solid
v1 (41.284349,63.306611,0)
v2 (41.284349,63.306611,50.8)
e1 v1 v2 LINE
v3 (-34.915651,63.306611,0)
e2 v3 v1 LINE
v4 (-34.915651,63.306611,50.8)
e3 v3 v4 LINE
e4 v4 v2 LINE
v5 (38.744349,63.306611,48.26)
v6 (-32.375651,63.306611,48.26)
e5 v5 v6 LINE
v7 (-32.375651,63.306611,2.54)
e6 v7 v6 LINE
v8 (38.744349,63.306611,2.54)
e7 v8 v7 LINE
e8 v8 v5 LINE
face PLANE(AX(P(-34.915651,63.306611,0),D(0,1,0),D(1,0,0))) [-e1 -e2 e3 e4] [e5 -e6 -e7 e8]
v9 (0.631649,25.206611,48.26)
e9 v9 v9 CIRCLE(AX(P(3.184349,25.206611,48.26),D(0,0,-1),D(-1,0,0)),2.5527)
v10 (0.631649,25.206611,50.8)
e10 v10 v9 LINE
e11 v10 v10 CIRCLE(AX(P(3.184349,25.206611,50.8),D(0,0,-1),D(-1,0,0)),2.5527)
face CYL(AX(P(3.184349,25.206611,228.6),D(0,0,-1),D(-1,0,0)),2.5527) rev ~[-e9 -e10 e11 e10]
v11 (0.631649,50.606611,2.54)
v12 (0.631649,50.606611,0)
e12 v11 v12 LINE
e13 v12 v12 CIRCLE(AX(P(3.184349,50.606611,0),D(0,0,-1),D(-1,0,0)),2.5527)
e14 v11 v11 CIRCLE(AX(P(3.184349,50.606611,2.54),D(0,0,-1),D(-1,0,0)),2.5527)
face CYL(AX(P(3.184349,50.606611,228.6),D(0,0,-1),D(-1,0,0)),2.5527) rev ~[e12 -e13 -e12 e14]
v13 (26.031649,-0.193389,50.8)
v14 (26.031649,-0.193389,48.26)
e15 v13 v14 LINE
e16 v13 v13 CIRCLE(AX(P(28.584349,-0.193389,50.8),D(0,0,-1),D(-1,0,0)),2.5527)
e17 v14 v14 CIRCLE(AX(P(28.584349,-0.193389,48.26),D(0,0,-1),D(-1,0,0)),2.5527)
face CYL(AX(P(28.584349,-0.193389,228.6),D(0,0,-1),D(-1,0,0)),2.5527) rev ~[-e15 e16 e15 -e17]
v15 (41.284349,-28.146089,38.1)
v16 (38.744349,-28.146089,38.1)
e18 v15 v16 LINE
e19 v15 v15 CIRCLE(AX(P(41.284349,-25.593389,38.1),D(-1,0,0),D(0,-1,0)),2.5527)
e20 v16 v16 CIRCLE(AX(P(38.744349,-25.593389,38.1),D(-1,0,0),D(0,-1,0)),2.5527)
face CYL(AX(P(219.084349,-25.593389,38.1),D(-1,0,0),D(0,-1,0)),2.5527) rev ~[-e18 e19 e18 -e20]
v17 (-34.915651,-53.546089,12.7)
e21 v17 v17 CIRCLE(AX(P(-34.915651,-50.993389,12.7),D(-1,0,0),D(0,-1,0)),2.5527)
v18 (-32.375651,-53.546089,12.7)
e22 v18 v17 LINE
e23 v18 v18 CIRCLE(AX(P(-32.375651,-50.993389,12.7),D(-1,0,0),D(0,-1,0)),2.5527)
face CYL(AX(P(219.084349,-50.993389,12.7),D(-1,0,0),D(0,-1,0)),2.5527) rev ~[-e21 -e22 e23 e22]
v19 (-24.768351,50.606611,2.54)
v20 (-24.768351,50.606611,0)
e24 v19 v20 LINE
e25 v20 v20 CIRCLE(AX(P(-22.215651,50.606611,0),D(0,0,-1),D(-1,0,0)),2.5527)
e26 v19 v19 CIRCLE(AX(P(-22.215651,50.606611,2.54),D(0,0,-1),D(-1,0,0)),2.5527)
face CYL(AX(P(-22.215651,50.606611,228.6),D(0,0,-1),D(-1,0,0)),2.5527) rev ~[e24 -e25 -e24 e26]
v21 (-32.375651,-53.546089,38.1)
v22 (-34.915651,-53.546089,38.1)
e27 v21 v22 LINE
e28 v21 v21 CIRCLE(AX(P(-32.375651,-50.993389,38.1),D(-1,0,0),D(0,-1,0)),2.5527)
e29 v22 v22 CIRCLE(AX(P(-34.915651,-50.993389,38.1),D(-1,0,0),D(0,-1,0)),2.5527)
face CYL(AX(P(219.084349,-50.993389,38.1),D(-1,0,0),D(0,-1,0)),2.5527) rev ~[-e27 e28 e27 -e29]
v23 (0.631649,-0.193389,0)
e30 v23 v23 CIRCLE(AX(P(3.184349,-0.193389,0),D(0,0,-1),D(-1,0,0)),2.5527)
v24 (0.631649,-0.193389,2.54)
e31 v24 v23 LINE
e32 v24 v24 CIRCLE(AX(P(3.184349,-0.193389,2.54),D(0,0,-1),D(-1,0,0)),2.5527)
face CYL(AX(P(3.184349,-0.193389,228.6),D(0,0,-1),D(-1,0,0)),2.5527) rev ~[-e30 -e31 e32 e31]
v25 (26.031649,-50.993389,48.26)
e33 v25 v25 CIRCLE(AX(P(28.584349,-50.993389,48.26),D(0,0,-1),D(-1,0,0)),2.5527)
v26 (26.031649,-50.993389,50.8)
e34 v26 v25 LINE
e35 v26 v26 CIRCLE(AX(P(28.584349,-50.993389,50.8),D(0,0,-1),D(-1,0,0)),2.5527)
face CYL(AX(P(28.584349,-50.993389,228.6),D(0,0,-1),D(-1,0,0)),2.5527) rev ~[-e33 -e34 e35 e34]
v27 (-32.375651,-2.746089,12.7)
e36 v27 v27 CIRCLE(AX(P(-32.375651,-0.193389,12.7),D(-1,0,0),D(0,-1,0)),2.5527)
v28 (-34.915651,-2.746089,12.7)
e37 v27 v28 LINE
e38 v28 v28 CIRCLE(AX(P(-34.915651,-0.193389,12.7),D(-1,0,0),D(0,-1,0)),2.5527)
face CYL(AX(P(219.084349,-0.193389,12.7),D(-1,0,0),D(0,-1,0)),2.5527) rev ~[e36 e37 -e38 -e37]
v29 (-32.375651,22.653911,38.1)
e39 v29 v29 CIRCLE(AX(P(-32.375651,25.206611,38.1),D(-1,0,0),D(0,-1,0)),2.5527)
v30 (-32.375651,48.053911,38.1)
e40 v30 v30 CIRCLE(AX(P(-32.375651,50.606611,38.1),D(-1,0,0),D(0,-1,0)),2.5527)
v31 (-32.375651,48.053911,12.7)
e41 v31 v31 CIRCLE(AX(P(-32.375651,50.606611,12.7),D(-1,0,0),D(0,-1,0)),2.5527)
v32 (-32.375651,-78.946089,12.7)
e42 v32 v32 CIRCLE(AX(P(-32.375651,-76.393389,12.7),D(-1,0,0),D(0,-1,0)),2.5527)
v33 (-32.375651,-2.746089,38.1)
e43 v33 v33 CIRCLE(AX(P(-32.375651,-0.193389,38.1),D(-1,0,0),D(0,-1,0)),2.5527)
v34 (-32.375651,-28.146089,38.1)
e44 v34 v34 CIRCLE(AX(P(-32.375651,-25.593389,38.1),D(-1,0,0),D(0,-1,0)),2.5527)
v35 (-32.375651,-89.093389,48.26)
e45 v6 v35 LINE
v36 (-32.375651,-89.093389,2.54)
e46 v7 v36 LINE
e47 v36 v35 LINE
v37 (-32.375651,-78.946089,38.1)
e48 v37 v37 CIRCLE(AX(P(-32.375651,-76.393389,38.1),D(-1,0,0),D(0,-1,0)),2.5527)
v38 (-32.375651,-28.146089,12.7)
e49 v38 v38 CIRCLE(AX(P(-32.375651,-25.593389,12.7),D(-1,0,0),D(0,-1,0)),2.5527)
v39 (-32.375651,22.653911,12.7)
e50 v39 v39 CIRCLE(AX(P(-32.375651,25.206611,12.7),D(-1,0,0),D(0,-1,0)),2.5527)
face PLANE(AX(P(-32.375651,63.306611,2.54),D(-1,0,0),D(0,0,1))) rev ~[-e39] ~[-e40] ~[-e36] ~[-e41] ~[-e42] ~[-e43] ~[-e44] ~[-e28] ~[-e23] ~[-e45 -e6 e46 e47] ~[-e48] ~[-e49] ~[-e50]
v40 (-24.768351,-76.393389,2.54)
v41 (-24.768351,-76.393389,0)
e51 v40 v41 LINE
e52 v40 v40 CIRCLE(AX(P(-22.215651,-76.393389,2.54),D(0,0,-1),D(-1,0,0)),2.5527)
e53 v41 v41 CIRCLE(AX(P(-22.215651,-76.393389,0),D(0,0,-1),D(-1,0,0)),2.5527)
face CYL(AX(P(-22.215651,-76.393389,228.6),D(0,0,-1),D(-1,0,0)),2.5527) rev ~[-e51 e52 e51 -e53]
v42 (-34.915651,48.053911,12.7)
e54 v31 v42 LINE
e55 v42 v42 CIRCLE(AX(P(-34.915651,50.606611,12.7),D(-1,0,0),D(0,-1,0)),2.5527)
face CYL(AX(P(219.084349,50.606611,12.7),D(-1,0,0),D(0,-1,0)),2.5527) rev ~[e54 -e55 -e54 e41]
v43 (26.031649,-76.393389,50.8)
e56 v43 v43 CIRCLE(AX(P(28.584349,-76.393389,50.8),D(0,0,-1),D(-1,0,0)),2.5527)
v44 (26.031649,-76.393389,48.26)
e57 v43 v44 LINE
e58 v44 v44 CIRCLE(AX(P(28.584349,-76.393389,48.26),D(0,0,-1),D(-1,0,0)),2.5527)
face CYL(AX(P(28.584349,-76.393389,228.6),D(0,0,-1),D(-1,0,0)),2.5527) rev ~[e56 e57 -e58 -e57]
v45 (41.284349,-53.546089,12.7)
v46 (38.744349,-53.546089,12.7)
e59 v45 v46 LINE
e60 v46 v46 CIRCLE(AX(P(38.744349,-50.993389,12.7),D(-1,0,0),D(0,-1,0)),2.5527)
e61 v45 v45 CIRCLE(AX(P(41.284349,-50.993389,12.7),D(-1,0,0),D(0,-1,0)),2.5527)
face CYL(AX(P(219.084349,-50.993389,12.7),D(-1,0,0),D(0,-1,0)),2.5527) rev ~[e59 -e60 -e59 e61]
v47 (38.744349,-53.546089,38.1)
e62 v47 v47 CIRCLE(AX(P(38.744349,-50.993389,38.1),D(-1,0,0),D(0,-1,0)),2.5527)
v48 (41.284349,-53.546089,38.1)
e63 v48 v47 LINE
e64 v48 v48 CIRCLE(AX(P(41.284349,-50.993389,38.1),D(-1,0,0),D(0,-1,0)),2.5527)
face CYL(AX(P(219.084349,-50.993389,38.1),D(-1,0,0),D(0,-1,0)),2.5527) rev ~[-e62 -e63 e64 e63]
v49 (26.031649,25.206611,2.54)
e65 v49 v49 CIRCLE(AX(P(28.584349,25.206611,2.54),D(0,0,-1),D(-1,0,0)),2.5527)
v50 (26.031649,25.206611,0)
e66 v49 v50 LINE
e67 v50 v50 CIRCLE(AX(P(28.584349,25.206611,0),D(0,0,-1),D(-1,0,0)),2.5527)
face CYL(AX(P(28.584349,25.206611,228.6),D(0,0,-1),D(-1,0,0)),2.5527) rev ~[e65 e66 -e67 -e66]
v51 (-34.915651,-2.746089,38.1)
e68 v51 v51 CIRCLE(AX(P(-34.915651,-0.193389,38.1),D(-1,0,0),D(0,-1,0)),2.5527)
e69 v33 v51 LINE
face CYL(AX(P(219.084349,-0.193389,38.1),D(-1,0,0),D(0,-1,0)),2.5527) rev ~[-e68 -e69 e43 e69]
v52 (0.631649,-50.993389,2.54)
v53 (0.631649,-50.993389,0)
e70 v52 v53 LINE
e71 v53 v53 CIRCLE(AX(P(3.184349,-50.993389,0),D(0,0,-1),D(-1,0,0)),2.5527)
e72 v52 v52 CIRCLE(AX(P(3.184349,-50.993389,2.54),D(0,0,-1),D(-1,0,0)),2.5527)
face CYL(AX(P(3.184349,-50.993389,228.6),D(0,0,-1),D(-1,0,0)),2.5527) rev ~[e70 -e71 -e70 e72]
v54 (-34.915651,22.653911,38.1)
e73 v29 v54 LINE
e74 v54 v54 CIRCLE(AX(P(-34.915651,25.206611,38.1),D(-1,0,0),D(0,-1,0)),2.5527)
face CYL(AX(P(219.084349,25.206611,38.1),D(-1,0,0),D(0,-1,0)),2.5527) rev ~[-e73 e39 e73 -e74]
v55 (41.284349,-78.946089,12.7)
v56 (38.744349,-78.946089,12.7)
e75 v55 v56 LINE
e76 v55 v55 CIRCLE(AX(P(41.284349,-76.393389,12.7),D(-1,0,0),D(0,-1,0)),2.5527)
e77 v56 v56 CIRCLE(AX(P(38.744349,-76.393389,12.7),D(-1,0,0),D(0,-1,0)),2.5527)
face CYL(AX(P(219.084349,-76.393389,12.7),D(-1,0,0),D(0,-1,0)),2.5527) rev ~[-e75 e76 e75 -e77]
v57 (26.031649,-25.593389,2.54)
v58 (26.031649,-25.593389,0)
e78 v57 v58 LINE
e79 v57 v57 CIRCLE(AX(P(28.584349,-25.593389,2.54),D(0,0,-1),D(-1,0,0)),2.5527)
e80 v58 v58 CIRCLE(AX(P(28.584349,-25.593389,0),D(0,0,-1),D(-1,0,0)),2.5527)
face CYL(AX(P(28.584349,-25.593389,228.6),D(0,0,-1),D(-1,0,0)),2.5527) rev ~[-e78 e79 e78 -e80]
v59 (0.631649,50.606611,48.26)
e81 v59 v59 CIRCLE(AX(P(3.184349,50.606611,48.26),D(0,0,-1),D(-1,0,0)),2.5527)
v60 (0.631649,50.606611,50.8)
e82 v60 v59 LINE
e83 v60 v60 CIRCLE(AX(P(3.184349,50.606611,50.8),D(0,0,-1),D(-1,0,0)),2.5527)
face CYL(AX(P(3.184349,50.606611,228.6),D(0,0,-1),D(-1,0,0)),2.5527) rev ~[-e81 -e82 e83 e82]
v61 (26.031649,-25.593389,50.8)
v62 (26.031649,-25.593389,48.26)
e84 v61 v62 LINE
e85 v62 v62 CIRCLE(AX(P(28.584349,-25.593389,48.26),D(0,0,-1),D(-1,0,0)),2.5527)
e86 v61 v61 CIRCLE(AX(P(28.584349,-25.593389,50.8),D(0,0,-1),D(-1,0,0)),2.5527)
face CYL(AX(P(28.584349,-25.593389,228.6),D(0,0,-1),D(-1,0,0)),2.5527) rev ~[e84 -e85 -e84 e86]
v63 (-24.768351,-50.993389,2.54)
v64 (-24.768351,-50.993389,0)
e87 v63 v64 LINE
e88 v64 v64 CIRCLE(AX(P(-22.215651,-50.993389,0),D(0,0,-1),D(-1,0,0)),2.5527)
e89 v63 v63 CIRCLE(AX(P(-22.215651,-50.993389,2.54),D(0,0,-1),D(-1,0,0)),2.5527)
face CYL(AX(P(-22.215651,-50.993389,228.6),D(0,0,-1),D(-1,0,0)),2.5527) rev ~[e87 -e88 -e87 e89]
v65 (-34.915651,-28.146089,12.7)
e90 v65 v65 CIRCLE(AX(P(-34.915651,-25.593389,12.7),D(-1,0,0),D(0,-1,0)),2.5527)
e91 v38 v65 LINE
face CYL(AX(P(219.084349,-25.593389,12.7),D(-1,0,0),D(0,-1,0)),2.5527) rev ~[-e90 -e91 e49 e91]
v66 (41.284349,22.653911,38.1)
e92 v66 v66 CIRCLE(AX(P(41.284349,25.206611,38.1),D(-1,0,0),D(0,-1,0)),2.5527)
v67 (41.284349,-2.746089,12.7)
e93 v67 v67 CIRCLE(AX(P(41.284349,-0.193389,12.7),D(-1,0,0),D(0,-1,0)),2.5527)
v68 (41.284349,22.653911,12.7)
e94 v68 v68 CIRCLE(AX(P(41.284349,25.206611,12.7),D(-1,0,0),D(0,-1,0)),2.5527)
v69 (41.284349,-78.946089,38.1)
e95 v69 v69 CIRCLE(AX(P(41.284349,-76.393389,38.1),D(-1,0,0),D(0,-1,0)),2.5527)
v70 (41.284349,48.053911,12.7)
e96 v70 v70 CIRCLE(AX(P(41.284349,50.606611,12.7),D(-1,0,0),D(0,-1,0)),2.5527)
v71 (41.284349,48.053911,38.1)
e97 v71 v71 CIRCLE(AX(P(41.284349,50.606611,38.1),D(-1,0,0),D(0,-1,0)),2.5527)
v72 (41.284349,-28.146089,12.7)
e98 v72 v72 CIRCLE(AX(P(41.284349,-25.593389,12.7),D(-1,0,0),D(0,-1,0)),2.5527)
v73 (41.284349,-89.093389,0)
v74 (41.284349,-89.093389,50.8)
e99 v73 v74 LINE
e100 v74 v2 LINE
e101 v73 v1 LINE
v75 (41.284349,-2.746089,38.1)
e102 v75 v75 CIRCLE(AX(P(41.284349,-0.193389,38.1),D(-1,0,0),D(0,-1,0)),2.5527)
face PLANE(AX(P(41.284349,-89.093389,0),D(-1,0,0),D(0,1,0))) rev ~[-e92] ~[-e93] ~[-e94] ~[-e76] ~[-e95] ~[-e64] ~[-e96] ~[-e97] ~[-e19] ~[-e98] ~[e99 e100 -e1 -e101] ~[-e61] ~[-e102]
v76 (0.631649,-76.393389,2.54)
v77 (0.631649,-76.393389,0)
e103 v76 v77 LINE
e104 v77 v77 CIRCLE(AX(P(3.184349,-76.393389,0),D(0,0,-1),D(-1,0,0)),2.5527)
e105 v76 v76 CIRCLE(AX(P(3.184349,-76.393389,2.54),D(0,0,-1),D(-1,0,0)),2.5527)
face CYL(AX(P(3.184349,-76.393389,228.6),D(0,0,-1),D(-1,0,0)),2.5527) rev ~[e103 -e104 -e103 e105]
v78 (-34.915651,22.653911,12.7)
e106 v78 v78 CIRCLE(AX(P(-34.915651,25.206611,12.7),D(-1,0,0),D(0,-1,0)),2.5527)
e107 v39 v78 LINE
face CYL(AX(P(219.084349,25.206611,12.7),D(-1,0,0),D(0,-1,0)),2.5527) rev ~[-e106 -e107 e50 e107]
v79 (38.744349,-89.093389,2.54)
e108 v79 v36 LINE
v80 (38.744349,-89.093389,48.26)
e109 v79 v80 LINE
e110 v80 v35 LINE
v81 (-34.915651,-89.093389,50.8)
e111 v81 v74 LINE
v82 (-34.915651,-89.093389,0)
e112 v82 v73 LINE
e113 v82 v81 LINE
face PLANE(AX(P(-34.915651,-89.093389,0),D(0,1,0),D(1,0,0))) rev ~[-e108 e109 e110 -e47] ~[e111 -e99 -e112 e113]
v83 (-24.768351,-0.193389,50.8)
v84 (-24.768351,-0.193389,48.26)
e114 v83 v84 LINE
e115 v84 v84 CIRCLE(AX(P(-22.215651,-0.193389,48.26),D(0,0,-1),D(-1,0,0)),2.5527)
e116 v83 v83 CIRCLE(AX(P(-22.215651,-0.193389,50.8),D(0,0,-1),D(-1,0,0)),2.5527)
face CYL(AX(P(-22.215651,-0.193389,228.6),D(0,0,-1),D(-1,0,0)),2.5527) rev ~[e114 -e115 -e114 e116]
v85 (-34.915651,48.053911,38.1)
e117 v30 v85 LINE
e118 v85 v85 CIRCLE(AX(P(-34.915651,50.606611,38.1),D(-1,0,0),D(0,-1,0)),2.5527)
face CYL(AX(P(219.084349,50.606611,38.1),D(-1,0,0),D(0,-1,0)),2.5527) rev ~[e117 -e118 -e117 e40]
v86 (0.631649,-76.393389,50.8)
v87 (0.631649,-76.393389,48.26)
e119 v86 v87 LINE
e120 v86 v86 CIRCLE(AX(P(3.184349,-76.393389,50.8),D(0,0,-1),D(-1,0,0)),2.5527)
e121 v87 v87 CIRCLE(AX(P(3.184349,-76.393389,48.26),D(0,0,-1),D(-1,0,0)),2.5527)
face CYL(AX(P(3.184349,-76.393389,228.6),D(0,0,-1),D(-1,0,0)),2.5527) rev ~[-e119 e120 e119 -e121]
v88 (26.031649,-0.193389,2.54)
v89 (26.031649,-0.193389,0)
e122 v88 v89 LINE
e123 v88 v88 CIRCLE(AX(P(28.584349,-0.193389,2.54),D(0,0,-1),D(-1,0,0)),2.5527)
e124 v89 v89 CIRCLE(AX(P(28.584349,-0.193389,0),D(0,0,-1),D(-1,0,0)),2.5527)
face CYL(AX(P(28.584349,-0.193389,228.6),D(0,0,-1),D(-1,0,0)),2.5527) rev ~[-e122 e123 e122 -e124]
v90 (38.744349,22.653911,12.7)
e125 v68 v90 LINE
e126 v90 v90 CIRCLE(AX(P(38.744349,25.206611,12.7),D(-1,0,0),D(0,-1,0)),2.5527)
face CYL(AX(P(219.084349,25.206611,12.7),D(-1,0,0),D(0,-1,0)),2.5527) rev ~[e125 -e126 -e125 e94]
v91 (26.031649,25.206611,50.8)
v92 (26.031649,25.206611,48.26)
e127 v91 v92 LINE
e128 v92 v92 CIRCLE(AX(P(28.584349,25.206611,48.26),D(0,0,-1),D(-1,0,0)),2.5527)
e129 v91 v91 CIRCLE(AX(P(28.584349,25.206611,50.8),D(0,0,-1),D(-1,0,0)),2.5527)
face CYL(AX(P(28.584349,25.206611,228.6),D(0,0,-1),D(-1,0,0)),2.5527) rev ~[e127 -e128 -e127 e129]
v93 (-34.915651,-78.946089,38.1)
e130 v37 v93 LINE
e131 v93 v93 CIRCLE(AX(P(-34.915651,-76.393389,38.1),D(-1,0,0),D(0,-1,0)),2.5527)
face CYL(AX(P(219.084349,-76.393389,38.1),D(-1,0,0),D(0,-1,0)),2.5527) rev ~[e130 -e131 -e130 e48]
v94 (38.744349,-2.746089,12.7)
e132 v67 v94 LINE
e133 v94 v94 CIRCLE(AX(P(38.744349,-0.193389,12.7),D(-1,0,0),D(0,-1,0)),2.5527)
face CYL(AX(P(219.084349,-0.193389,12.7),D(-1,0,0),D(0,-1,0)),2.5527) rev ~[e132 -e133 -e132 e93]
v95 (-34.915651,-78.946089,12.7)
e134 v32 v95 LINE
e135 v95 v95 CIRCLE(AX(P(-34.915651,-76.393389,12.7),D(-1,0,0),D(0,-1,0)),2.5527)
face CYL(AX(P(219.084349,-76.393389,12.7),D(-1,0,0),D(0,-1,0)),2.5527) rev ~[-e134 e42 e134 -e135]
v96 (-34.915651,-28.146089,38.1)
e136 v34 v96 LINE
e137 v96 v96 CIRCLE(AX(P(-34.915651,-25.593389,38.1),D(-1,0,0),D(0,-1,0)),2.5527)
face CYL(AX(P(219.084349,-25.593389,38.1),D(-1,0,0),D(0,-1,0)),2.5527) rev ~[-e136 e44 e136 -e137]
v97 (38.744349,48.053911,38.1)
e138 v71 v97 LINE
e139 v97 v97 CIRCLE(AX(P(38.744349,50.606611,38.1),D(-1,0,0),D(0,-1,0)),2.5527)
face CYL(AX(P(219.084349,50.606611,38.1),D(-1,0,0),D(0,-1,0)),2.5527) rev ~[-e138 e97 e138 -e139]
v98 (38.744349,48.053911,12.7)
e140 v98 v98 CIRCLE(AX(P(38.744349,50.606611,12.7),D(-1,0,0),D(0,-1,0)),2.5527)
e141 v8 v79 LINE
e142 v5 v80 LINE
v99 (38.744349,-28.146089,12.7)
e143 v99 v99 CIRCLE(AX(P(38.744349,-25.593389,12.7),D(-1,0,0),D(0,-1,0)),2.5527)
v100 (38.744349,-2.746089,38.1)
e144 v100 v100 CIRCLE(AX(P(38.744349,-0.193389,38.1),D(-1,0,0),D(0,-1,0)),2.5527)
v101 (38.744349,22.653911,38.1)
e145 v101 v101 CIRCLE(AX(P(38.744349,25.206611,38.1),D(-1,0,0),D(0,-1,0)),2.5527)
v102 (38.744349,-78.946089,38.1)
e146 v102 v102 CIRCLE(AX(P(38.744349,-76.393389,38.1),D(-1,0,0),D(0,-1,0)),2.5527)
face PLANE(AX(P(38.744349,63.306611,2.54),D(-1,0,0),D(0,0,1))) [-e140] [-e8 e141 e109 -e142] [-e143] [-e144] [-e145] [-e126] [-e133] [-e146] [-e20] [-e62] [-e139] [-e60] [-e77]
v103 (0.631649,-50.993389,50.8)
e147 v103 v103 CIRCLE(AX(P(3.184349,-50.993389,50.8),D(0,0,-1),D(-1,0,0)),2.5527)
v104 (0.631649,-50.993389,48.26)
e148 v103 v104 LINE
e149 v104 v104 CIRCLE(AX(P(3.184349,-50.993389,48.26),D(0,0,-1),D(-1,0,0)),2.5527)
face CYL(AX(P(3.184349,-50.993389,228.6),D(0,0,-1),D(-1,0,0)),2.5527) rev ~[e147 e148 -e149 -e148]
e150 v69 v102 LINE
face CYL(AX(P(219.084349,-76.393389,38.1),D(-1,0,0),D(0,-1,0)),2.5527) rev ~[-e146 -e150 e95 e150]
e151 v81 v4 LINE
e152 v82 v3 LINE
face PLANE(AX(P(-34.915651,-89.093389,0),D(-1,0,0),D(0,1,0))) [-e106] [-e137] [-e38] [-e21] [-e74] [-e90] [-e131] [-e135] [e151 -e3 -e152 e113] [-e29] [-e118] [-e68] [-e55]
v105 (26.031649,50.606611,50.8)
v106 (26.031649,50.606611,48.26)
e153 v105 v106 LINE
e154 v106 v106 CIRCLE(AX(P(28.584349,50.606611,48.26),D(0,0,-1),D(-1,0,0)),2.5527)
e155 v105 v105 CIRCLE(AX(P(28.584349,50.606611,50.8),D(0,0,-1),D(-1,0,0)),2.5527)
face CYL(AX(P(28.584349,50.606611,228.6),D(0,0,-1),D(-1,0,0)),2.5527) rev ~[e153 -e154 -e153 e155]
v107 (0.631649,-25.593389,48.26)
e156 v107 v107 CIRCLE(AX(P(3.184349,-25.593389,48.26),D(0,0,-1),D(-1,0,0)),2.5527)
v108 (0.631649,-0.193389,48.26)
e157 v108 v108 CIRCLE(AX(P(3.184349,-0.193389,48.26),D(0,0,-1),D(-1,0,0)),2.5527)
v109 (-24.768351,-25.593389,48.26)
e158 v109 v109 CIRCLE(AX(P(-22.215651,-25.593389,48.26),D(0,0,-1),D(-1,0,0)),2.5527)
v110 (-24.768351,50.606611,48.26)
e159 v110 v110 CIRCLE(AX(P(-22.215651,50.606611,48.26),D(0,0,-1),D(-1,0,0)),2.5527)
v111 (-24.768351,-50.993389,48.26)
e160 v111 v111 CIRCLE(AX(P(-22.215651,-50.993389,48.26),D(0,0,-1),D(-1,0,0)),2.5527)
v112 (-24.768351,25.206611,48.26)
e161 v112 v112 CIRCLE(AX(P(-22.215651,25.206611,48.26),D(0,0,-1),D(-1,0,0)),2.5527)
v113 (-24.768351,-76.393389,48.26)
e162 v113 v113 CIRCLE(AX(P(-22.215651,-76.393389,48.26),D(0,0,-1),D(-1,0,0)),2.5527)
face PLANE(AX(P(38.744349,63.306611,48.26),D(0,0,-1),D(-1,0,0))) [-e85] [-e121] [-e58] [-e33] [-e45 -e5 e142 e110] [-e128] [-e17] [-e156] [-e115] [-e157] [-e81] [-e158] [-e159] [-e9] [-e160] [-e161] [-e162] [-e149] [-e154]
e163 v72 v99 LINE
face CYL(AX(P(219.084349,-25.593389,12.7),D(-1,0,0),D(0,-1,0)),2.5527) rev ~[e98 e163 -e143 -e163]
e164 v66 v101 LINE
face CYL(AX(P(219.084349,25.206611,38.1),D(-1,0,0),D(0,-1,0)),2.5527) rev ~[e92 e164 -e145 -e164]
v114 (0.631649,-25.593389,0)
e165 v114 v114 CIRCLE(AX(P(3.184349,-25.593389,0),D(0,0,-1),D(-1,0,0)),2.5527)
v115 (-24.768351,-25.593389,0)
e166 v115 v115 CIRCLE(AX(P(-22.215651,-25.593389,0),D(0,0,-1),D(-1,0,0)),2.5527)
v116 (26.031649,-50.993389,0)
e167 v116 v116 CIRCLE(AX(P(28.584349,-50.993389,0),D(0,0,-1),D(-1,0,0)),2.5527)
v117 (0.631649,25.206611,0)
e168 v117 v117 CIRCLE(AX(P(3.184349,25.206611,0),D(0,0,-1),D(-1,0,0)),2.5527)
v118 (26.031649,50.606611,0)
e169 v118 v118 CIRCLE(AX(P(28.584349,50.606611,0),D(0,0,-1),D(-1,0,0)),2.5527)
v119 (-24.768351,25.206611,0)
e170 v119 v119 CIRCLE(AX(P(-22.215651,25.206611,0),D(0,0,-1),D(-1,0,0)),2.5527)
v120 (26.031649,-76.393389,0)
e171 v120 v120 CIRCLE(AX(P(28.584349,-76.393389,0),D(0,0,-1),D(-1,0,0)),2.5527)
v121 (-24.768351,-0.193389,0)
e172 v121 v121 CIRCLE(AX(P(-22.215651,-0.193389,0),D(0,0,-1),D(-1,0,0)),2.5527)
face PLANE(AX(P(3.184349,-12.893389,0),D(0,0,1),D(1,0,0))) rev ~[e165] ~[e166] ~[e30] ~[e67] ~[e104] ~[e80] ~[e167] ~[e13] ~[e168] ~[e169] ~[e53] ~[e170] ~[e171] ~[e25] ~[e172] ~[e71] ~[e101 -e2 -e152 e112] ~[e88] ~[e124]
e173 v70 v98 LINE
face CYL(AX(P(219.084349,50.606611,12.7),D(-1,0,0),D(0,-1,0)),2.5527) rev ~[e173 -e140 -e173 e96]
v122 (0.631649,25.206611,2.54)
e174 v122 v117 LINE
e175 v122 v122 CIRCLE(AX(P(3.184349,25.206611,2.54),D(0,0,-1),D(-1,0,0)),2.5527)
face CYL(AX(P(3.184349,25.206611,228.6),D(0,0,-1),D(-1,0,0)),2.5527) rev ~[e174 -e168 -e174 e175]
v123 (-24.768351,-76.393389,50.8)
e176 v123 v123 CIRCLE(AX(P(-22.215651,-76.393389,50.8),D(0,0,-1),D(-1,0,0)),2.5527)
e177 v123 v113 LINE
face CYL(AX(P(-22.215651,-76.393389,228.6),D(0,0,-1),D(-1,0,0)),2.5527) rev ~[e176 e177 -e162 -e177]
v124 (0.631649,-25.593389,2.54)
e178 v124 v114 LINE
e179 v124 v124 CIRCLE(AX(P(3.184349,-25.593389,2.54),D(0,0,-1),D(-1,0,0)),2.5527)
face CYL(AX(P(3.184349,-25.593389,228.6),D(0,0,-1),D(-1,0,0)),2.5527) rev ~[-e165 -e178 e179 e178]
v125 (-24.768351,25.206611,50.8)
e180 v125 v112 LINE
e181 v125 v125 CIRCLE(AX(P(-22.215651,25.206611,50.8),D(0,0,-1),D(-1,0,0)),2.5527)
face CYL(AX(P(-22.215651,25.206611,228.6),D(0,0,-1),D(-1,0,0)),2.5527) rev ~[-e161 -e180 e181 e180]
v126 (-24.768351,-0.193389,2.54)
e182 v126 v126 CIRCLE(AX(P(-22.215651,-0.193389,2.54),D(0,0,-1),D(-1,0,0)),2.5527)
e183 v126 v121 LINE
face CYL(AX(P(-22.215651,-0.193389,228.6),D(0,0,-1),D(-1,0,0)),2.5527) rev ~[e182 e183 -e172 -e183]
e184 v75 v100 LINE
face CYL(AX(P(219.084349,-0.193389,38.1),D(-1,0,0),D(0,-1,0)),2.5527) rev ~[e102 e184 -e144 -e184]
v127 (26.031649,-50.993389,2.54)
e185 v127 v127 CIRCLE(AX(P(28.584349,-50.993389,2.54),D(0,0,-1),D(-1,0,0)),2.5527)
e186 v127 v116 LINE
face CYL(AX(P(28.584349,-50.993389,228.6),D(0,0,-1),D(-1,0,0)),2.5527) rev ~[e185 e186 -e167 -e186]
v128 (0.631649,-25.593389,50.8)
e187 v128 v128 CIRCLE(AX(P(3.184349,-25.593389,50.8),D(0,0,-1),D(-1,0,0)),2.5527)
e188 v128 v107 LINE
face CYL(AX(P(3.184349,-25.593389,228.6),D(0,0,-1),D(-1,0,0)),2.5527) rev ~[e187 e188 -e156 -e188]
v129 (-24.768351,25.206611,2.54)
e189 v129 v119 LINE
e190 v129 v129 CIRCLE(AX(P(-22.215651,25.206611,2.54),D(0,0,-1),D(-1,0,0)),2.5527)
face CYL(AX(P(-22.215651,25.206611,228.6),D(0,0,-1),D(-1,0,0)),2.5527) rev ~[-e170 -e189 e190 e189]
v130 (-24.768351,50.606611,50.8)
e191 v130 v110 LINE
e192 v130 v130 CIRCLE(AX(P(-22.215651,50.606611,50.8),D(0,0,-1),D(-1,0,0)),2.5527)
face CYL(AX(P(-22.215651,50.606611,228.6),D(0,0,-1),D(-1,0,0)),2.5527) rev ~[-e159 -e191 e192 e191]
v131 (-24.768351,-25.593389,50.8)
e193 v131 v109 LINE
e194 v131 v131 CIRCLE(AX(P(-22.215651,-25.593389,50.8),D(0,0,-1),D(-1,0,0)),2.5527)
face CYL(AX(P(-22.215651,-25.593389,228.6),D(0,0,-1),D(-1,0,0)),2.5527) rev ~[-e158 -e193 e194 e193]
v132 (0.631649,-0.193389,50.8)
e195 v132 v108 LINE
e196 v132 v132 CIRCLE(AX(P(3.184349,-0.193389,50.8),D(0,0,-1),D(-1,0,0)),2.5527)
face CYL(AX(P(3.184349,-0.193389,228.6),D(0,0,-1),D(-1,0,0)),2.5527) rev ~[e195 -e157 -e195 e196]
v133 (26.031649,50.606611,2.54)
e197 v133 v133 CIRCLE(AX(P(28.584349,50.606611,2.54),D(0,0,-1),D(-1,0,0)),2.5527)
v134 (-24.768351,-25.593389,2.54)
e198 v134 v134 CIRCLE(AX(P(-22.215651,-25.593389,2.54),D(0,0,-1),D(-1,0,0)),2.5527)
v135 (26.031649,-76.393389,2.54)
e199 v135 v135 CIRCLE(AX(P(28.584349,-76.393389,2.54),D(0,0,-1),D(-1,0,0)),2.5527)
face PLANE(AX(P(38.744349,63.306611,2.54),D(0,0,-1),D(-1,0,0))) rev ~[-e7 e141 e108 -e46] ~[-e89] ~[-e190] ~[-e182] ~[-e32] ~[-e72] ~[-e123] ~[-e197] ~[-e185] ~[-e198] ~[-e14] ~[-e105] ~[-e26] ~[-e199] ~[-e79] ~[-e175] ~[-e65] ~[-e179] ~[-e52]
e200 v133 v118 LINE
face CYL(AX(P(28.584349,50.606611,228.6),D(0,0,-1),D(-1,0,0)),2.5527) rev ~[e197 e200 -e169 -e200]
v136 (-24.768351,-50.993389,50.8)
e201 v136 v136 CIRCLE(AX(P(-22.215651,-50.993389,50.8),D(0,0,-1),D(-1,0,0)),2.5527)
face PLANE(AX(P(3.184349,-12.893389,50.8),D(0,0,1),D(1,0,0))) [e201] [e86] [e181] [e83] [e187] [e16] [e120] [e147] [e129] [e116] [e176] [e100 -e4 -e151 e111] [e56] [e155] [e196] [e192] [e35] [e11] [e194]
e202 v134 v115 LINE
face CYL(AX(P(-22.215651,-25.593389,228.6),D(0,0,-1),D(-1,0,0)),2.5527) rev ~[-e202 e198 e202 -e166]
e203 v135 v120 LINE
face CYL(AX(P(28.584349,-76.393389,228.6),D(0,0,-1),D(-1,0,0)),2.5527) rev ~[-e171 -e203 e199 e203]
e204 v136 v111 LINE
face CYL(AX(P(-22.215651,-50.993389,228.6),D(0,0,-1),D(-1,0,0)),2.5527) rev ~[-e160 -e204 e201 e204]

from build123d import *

# Parameters (mm, degrees)
F0_W     = 76.2
F0_H     = 152.4
F1_DEPTH = 50.8
F3_D     = 5.1054
F5_D     = 5.1054
F6_W     = 71.12
F6_H     = 45.72
F7_DEPTH = 152.4


with BuildPart() as f1:
    # F0 (on Top) → F1 (new body)
    with BuildSketch(Plane.XY):
        with Locations((3.184349, -12.893389)):
            Rectangle(F0_W, F0_H)
    extrude(amount=F1_DEPTH)

    # F3 (through all)
    with Locations(Plane.XY.offset(50.8)):
        with Locations((-22.215651, -0.193389), (28.584349, -0.193389), (3.184349, -50.993389), (3.184349, -25.593389), (28.584349, -50.993389), (28.584349, -25.593389), (28.584349, 25.206611), (28.584349, -76.393389), (3.184349, 50.606611), (3.184349, -76.393389), (28.584349, 50.606611), (3.184349, -0.193389), (3.184349, 25.206611), (-22.215651, 25.206611), (-22.215651, -76.393389), (-22.215651, 50.606611), (-22.215651, -25.593389), (-22.215651, -50.993389)):
            Hole(F3_D / 2)

    # F5 (through all)
    with Locations(Plane.YZ.offset(41.284349)):
        with Locations((-25.593389, 38.1), (-0.193389, 12.7), (-50.993389, 38.1), (-25.593389, 12.7), (50.606611, 12.7), (50.606611, 38.1), (-0.193389, 38.1), (25.206611, 12.7), (-50.993389, 12.7), (-76.393389, 12.7), (-76.393389, 38.1), (25.206611, 38.1)):
            Hole(F5_D / 2)

    # F6 (on face) → F7 (cut)
    with BuildSketch(Plane(origin=(0, 63.306611, 0), x_dir=(-1, 0, 0), z_dir=(0, 1, 0))):
        with Locations((-3.184349, 25.4)):
            Rectangle(F6_W, F6_H)
    extrude(amount=-F7_DEPTH, mode=Mode.SUBTRACT)


solid = f1.part
